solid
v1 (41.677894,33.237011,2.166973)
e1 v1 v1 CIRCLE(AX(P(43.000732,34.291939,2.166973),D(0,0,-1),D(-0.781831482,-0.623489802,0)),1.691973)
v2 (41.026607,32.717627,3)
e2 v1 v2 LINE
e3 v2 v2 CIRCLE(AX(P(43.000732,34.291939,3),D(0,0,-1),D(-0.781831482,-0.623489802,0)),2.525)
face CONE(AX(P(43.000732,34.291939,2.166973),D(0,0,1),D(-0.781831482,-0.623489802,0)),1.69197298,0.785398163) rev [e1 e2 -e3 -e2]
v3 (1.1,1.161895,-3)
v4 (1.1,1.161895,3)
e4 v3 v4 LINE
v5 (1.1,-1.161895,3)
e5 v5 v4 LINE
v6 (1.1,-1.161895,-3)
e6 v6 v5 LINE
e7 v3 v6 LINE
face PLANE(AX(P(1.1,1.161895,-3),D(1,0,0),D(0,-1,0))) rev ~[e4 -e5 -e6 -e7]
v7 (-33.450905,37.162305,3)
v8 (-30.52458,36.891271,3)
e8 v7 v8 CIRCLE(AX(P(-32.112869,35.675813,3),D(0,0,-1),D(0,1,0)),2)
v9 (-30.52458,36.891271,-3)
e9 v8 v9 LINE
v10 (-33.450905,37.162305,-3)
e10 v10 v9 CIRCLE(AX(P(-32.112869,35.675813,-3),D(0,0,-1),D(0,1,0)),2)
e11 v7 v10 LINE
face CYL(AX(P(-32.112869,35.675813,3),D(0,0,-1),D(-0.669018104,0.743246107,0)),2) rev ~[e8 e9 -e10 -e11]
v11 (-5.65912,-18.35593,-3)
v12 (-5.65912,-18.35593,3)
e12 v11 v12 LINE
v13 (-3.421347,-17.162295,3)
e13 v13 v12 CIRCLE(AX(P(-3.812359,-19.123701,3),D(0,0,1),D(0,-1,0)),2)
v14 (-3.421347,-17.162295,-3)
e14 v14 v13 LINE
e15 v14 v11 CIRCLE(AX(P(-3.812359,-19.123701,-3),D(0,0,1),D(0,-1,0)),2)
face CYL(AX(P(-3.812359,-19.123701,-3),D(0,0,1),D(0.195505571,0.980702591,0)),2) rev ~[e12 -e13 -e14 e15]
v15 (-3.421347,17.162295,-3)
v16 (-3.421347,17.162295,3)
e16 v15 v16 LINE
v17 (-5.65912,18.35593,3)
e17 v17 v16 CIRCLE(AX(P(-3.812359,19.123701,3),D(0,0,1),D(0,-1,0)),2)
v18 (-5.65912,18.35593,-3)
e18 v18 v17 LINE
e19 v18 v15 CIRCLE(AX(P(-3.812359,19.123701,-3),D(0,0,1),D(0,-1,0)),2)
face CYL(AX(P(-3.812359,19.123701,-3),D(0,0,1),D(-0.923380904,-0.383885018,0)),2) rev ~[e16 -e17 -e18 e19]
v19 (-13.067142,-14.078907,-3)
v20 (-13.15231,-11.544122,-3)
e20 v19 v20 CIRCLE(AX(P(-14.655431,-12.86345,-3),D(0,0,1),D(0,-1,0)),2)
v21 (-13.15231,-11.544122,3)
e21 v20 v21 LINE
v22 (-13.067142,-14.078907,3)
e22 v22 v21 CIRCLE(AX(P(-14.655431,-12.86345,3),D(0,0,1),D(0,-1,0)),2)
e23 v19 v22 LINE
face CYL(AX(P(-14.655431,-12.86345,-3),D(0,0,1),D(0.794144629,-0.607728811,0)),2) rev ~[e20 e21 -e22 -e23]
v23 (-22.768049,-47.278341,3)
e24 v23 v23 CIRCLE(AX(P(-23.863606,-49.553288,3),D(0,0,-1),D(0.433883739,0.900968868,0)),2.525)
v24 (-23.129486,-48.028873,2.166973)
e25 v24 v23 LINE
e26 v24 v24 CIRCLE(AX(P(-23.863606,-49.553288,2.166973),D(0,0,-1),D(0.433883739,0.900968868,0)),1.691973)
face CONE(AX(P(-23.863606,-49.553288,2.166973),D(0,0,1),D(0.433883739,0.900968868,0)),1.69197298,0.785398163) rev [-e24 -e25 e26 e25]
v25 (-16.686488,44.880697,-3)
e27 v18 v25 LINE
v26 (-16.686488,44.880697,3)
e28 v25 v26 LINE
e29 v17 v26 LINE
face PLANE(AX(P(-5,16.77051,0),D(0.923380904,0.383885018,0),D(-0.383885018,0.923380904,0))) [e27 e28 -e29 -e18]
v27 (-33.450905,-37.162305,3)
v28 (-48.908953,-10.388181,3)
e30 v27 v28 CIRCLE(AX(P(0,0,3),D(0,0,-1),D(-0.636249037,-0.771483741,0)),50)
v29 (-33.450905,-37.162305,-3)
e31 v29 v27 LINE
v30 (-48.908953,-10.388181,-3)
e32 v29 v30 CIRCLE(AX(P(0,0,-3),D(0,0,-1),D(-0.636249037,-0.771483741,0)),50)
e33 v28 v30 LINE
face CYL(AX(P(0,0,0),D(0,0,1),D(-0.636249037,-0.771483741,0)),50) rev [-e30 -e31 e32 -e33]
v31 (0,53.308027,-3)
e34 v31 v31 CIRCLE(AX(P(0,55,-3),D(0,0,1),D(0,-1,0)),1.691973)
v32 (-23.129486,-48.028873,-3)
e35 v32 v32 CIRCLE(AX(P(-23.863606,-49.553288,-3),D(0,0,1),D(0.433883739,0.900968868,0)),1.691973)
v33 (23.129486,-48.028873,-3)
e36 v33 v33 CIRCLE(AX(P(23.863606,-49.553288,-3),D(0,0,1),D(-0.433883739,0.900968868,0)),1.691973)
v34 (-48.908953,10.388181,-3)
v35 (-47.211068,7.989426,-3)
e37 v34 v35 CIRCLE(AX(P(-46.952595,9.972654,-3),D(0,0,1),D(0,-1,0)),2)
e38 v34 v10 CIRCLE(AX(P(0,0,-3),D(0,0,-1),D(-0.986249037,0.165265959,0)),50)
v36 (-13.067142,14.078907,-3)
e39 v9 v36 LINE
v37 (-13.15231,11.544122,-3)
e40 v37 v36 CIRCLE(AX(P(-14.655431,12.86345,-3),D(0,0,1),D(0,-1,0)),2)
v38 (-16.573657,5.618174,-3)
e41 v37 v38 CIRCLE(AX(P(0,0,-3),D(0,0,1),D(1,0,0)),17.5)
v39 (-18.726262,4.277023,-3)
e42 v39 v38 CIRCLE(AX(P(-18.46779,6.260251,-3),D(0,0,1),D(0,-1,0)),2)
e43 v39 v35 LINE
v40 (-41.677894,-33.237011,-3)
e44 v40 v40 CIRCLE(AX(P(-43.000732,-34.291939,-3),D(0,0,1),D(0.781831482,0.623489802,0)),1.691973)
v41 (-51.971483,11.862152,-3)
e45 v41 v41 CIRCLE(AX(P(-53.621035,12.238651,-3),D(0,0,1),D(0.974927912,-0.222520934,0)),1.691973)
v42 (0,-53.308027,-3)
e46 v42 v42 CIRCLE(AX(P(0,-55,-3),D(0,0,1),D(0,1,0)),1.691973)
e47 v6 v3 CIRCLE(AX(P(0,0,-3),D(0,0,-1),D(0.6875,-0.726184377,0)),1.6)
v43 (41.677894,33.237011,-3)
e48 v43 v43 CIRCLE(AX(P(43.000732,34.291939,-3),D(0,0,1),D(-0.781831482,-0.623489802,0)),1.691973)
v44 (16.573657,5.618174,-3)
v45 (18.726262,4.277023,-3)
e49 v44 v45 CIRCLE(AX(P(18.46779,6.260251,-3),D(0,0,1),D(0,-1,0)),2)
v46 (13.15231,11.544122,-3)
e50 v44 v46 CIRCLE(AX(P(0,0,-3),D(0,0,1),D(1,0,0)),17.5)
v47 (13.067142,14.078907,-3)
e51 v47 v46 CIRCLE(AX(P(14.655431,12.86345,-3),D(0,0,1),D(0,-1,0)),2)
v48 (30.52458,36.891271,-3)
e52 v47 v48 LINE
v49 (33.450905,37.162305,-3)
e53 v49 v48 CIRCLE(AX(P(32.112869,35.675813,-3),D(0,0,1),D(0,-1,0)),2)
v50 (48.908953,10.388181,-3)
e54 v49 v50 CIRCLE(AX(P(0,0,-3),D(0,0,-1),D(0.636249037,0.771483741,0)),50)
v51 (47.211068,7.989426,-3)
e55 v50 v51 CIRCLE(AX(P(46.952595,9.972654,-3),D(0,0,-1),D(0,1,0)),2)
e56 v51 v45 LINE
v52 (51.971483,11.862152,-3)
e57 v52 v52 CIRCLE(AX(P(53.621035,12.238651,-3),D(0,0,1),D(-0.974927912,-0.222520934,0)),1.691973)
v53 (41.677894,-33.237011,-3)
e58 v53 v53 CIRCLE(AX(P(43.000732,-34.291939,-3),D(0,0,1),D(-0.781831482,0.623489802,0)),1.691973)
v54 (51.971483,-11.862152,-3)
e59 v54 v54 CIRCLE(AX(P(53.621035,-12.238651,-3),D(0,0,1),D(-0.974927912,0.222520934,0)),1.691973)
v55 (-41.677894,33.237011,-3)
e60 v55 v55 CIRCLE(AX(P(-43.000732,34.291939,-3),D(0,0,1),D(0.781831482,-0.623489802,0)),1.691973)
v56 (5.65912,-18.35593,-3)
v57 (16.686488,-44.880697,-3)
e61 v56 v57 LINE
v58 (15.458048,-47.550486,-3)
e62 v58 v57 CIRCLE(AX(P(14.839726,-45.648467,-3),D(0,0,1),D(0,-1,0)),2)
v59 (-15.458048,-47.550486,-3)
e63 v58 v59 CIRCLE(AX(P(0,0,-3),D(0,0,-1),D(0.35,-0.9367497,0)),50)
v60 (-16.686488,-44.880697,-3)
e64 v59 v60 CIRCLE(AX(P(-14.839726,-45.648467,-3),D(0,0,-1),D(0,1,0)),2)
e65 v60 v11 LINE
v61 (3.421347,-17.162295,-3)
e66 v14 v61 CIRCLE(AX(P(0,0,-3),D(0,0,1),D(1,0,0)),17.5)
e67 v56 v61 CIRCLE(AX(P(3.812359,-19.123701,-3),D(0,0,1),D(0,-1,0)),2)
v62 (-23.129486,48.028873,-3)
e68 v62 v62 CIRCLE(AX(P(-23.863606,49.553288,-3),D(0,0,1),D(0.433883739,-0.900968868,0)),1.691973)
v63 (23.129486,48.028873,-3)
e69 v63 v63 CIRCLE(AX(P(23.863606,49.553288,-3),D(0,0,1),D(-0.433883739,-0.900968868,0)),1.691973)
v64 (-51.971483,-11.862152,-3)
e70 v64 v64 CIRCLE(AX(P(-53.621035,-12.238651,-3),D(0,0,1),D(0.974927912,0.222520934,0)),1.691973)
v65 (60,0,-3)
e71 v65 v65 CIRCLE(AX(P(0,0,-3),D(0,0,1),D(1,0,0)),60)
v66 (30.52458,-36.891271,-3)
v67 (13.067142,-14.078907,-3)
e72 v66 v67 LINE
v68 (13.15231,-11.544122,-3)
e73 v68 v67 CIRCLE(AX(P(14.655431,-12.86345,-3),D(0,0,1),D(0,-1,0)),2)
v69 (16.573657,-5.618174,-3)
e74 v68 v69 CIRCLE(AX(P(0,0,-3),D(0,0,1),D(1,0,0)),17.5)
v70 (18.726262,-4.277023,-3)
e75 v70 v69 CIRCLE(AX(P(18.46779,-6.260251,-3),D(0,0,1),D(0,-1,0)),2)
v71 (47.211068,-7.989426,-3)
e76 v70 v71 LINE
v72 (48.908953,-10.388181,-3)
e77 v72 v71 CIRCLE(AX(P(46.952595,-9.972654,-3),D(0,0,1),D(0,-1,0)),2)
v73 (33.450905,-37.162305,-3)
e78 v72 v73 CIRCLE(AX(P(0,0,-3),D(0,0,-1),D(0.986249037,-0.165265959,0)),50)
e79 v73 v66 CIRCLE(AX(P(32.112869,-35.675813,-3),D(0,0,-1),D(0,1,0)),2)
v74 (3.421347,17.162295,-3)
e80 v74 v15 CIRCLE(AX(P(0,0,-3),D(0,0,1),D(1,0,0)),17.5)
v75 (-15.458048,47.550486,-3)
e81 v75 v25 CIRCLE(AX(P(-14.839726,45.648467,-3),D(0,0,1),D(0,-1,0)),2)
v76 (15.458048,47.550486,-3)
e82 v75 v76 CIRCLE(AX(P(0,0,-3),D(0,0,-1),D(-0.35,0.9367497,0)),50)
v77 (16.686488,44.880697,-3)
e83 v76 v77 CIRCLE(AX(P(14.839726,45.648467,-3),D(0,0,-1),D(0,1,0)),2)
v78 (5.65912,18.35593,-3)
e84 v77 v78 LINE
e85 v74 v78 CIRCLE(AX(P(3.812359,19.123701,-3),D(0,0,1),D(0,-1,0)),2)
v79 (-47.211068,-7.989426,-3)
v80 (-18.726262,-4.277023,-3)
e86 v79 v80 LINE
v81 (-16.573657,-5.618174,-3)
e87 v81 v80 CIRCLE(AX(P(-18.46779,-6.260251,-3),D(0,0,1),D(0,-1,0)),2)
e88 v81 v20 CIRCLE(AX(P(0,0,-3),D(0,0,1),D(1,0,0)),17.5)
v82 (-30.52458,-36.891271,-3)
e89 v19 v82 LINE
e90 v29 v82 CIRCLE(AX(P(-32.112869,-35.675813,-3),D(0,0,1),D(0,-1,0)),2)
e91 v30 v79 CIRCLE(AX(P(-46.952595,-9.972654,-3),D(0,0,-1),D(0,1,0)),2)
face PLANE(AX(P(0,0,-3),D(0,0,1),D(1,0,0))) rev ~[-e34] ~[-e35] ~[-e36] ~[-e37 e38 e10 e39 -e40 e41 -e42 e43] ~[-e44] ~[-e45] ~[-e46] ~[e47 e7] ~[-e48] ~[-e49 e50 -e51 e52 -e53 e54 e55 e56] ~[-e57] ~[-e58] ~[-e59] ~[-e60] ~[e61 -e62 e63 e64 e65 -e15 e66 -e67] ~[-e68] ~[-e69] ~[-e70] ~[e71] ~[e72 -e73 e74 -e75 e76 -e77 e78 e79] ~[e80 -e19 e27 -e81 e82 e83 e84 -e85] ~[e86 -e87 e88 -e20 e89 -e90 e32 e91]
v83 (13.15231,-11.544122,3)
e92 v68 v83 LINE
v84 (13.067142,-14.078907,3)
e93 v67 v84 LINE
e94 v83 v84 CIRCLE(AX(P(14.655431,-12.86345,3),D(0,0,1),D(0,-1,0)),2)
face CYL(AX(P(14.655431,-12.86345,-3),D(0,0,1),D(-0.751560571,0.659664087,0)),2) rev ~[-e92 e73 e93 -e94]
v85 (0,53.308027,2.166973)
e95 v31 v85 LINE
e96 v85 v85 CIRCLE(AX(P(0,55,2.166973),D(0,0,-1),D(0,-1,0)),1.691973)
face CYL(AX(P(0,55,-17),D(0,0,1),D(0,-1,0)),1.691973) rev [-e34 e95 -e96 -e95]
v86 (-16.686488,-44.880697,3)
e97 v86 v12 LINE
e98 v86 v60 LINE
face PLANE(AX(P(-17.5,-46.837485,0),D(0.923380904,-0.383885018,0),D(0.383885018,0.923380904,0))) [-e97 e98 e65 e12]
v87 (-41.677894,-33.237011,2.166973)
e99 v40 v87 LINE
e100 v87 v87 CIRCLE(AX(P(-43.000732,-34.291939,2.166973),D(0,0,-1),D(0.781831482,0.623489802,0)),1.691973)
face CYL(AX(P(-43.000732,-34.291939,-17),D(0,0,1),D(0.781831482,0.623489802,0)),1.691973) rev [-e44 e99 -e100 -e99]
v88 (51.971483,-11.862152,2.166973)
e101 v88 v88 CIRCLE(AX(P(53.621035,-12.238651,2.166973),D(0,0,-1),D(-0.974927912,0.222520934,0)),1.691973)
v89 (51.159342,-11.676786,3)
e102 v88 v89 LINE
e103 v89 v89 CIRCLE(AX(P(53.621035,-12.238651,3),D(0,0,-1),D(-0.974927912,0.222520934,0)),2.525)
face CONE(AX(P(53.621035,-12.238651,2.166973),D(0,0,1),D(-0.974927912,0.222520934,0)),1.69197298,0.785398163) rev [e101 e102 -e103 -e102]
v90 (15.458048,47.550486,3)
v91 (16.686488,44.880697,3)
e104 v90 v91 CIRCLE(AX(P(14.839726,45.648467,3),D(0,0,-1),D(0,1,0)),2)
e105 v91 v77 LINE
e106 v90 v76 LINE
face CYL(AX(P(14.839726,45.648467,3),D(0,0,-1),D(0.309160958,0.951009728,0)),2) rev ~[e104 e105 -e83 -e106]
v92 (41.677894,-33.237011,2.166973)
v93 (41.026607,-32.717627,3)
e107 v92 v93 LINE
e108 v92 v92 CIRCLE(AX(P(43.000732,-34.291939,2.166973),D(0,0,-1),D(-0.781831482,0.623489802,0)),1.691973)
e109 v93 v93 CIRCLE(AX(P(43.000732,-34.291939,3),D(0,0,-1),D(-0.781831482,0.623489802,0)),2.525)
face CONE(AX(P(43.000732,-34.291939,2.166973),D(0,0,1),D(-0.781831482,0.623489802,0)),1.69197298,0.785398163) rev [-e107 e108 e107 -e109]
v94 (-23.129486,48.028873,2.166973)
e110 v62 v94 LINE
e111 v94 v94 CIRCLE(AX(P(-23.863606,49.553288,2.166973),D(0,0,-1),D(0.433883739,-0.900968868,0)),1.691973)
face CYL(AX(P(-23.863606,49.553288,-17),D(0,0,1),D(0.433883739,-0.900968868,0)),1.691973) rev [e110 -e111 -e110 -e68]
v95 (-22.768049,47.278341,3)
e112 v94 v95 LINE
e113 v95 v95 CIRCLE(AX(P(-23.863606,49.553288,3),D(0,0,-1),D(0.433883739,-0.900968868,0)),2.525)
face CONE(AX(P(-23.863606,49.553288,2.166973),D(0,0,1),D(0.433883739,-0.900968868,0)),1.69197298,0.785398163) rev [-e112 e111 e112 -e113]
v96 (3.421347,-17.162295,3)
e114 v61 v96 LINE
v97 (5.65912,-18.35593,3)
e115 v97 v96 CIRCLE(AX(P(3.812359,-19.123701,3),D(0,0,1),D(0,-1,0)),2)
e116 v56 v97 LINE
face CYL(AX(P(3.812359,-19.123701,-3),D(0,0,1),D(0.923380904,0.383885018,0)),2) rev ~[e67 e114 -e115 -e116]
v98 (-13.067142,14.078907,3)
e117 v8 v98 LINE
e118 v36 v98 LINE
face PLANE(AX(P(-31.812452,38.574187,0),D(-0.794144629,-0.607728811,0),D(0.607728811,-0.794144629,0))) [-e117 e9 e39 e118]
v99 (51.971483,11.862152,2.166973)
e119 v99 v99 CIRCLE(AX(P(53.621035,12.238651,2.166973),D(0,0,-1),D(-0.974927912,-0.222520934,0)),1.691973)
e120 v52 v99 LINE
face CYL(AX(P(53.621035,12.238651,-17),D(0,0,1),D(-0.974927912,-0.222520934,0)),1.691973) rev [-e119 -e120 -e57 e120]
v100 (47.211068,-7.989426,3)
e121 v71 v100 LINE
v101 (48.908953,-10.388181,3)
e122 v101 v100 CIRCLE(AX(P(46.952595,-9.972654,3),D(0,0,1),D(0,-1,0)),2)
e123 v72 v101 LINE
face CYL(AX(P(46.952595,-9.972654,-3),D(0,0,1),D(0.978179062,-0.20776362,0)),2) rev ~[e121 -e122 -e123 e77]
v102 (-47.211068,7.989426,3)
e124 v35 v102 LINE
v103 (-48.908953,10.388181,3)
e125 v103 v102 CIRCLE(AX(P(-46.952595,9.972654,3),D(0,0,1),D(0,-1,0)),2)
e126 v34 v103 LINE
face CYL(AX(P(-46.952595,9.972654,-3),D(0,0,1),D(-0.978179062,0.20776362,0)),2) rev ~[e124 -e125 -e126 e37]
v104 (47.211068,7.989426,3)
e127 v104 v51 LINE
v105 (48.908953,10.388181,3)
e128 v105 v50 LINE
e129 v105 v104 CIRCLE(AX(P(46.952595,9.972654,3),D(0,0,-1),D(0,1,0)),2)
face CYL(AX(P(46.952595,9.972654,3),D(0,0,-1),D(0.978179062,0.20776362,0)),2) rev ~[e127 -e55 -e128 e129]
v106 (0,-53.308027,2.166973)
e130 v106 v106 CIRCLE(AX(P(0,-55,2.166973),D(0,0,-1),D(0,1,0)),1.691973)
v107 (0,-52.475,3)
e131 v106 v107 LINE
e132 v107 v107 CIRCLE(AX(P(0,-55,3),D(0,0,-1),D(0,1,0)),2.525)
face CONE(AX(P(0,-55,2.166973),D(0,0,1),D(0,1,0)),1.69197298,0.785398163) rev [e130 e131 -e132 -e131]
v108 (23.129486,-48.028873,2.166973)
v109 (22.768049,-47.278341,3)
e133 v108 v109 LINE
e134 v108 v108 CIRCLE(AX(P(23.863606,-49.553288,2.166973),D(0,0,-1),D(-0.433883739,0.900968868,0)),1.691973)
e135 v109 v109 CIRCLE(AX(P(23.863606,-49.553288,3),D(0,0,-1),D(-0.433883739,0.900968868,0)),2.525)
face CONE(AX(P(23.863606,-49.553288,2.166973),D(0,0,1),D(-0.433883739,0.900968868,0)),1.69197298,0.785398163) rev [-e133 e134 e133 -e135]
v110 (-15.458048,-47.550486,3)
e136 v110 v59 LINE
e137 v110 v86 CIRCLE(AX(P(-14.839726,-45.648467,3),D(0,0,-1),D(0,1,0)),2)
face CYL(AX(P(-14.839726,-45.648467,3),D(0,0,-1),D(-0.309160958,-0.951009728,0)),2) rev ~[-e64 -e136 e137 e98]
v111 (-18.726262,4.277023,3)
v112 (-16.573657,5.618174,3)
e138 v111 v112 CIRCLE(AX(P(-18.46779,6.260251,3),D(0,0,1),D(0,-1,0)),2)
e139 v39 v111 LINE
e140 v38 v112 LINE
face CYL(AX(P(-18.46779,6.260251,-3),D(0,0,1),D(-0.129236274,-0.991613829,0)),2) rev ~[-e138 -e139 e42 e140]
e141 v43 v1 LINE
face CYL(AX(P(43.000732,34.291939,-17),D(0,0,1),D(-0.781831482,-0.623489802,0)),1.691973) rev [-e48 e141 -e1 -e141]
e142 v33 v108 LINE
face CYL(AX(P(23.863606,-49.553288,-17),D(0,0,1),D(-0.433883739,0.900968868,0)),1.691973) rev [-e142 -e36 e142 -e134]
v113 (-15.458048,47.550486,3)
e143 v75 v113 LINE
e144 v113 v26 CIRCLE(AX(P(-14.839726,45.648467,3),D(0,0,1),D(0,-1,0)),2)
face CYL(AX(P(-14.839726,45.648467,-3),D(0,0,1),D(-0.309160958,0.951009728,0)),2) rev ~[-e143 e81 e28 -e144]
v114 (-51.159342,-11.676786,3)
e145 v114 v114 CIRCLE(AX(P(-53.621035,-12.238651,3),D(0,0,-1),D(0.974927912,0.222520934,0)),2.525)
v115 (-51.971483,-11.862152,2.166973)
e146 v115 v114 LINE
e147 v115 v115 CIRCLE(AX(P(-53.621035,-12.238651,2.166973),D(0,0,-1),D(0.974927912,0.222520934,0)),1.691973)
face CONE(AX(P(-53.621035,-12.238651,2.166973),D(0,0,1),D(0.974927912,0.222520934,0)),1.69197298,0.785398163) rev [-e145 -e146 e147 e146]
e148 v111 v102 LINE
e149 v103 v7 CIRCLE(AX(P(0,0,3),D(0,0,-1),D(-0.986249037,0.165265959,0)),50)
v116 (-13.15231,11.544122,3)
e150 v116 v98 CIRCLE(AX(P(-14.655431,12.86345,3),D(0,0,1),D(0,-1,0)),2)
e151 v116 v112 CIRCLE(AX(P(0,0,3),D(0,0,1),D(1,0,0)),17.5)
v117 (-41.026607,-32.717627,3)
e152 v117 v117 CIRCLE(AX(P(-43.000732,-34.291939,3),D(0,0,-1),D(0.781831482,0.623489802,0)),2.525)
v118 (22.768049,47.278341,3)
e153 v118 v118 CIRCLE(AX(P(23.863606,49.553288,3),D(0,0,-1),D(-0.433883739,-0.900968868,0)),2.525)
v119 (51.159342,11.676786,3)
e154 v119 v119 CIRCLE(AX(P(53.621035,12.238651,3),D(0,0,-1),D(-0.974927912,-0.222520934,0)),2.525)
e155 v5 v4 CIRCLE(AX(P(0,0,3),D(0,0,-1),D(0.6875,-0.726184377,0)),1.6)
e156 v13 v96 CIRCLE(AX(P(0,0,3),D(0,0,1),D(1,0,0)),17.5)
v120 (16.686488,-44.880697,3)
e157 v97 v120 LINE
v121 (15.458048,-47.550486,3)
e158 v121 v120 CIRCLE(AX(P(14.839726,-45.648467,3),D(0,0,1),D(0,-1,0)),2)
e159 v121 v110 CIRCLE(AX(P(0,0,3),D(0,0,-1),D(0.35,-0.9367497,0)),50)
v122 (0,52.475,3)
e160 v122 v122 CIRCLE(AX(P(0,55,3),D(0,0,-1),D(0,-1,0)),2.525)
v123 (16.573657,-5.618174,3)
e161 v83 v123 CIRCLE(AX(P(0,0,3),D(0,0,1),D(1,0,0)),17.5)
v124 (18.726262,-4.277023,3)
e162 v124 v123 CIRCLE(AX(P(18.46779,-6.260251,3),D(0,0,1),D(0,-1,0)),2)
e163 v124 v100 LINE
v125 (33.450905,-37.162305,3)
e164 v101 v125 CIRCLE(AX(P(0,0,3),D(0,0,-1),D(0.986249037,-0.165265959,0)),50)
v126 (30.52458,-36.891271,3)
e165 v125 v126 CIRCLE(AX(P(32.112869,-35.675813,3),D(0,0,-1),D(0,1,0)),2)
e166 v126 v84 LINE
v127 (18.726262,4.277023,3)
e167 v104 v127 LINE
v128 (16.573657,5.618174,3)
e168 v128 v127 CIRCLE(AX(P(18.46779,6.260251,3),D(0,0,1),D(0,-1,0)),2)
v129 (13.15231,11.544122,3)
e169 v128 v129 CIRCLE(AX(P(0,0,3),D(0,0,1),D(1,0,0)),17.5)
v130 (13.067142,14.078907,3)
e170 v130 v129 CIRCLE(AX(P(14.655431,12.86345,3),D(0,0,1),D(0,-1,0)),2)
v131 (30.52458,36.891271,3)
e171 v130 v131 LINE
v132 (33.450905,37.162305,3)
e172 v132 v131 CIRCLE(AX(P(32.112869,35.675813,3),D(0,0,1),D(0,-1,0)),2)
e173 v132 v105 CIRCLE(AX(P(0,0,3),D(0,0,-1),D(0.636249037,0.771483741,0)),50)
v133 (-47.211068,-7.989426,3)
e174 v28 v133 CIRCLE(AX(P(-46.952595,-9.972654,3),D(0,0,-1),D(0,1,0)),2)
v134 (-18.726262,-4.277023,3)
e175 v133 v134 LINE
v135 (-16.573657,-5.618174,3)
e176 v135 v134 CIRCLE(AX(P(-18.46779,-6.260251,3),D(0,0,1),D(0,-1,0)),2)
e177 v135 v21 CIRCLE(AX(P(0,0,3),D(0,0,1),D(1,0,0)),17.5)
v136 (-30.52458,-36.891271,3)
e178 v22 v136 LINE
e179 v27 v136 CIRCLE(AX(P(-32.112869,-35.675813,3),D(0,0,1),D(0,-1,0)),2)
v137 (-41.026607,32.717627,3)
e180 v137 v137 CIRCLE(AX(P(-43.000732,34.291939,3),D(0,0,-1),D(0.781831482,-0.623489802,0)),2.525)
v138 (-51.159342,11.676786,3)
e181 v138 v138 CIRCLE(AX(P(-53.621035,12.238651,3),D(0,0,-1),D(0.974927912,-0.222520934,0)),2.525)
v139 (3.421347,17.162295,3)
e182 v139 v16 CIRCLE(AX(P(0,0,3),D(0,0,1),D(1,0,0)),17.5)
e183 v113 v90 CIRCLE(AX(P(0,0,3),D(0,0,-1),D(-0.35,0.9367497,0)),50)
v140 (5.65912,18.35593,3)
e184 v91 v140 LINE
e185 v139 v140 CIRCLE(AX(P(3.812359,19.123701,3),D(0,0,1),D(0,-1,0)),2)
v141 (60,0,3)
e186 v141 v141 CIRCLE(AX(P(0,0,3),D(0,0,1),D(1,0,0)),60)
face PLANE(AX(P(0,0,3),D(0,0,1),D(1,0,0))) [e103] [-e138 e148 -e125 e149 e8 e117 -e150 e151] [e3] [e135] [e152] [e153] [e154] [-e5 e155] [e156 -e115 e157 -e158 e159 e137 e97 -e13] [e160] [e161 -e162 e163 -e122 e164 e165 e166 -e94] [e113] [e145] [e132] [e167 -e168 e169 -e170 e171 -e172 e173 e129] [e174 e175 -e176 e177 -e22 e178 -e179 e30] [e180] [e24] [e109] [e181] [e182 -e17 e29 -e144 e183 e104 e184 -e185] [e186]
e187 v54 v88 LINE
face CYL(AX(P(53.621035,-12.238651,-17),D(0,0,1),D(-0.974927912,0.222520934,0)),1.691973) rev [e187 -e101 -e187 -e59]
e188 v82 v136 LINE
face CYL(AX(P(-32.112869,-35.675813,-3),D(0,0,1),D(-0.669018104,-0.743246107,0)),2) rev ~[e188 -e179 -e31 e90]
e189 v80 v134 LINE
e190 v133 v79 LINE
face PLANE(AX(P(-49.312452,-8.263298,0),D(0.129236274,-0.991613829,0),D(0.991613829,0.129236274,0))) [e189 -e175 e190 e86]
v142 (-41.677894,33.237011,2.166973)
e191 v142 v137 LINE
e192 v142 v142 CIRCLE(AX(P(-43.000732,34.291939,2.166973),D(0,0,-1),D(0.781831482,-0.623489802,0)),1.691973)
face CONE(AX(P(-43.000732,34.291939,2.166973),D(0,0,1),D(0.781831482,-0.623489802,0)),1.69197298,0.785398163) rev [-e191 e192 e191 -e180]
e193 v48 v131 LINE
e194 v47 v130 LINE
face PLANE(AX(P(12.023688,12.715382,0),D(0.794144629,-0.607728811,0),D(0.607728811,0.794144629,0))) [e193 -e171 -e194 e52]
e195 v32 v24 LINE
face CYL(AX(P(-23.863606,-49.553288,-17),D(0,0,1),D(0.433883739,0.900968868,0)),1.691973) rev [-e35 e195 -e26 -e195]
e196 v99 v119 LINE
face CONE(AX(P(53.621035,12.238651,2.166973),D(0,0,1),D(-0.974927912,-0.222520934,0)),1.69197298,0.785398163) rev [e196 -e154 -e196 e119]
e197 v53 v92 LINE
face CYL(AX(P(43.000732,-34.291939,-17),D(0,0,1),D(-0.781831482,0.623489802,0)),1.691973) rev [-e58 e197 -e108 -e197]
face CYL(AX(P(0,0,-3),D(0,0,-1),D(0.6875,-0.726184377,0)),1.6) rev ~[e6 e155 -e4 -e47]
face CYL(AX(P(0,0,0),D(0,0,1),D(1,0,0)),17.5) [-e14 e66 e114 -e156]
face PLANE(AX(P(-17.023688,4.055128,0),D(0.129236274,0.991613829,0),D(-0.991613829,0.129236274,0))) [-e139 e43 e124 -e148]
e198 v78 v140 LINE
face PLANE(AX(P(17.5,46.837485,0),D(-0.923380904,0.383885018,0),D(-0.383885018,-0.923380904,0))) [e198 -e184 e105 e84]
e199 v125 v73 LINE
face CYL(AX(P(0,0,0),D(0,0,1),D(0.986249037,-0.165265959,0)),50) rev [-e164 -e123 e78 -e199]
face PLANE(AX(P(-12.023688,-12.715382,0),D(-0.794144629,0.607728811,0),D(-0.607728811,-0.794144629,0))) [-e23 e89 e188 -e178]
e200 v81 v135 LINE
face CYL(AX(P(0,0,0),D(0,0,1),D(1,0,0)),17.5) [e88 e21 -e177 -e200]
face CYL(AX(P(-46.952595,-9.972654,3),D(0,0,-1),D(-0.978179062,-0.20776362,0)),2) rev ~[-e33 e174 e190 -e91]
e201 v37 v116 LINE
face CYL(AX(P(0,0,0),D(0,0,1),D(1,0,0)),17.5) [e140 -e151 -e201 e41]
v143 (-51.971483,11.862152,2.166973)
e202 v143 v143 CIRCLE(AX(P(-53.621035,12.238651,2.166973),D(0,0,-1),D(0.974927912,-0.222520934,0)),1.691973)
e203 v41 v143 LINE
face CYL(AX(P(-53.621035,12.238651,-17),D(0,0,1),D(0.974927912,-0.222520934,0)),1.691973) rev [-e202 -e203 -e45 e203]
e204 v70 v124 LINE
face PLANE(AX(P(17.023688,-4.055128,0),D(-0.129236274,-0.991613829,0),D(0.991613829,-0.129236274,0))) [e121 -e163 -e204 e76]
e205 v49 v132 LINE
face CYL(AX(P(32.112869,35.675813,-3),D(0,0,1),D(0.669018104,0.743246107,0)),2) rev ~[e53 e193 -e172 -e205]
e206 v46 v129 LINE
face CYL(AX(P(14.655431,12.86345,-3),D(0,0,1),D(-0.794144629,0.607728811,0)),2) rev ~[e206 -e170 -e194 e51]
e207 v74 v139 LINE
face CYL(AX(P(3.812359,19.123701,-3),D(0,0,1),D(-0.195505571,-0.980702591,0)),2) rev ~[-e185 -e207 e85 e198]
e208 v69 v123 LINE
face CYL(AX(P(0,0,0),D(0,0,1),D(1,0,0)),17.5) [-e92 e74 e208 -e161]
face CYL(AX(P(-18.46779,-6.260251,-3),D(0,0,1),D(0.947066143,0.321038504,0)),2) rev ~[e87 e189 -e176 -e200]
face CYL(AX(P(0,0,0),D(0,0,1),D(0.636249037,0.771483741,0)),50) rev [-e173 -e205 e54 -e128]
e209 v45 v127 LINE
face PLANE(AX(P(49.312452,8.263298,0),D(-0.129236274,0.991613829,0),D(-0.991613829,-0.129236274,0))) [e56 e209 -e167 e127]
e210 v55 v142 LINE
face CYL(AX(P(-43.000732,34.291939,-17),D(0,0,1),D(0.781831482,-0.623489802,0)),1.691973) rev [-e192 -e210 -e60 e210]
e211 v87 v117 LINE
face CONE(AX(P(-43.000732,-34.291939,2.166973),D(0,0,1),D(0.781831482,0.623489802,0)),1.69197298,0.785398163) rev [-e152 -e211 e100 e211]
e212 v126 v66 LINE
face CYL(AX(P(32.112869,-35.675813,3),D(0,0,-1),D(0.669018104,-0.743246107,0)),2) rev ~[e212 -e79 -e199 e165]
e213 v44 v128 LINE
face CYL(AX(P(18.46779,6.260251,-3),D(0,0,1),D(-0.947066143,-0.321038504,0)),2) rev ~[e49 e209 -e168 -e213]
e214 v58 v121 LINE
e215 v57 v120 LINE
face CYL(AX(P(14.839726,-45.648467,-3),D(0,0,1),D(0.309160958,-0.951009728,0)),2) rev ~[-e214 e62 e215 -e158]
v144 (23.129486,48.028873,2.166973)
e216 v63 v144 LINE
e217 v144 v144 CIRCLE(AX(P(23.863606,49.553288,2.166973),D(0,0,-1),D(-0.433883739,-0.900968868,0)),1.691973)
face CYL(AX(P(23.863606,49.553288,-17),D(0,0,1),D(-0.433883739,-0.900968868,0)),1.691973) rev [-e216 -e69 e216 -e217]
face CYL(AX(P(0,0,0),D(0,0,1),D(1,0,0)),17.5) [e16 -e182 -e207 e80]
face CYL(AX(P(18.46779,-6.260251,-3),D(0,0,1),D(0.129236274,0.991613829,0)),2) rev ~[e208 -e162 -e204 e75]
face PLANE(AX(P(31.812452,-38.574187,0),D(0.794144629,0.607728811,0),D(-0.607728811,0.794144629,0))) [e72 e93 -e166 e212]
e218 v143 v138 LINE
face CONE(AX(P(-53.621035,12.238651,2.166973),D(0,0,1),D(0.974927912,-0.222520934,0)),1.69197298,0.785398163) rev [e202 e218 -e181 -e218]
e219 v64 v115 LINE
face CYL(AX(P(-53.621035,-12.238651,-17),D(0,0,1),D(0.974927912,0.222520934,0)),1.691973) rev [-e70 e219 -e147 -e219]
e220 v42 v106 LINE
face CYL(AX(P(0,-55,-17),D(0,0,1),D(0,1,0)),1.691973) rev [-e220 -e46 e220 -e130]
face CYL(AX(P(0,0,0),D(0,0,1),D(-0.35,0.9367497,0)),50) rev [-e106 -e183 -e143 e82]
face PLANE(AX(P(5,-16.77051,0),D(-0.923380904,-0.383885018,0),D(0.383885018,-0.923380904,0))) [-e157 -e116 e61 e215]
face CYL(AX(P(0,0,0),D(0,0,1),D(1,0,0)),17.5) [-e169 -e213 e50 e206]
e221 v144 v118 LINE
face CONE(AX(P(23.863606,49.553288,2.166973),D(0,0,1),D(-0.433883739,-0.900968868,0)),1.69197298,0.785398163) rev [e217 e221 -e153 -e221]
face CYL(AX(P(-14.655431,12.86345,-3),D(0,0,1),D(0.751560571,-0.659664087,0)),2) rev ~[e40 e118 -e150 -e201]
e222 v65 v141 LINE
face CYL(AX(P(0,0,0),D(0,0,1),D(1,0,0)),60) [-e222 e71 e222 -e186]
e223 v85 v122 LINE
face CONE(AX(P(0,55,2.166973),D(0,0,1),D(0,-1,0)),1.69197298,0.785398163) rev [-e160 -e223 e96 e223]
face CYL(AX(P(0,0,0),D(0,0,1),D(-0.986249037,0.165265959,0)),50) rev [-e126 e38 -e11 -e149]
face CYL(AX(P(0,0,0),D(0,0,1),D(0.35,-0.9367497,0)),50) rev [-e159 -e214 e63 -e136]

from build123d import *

# Parameters (mm, degrees)
SKETCH1_R               = 60
SKETCH1_R_2             = 17.5
BOSS_EXTRUDE2_DEPTH     = 3
FILLET1_R               = 2
CUT_EXTRUDE1_DEPTH      = 86.064681273
CUT_EXTRUDE1_DEPTH_BACK = 86.064681273
CIRPATTERN4_COUNT       = 14


with BuildPart() as part:
    # Sketch1 → Boss-Extrude2 (new, symmetric)
    with BuildSketch(Plane.XY):
        Circle(SKETCH1_R)
        with BuildLine():
            ThreePointArc((-12.023687548, 12.715381935), (-8.75, 15.155444566), (-5, 16.770509831))
            Line((-5, 16.770509831), (-17.5, 46.837484988))
            ThreePointArc((-17.5, 46.837484988), (0, 50), (17.5, 46.837484988))
            Line((17.5, 46.837484988), (5, 16.770509831))
            ThreePointArc((5, 16.770509831), (8.75, 15.155444566), (12.023687548, 12.715381935))
            Line((12.023687548, 12.715381935), (31.812451849, 38.57418706))
            ThreePointArc((31.812451849, 38.57418706), (43.301270189, 25), (49.312451849, 8.263297928))
            Line((49.312451849, 8.263297928), (17.023687548, 4.055127897))
            ThreePointArc((17.023687548, 4.055127897), (17.380513975, 2.041502866), (17.5, 0))
            ThreePointArc((17.5, 0), (17.380513975, -2.041502866), (17.023687548, -4.055127897))
            Line((17.023687548, -4.055127897), (49.312451849, -8.263297928))
            ThreePointArc((49.312451849, -8.263297928), (43.301270189, -25), (31.812451849, -38.57418706))
            Line((31.812451849, -38.57418706), (12.023687548, -12.715381935))
            ThreePointArc((12.023687548, -12.715381935), (8.75, -15.155444566), (5, -16.770509831))
            Line((5, -16.770509831), (17.5, -46.837484988))
            ThreePointArc((17.5, -46.837484988), (0, -50), (-17.5, -46.837484988))
            Line((-17.5, -46.837484988), (-5, -16.770509831))
            ThreePointArc((-5, -16.770509831), (-8.75, -15.155444566), (-12.023687548, -12.715381935))
            Line((-12.023687548, -12.715381935), (-31.812451849, -38.57418706))
            ThreePointArc((-31.812451849, -38.57418706), (-43.301270189, -25), (-49.312451849, -8.263297928))
            Line((-49.312451849, -8.263297928), (-17.023687548, -4.055127897))
            ThreePointArc((-17.023687548, -4.055127897), (-17.5, 0), (-17.023687548, 4.055127897))
            Line((-17.023687548, 4.055127897), (-49.312451849, 8.263297928))
            ThreePointArc((-49.312451849, 8.263297928), (-43.301270189, 25), (-31.812451849, 38.57418706))
            Line((-31.812451849, 38.57418706), (-12.023687548, 12.715381935))
        make_face(mode=Mode.SUBTRACT)
        Circle(SKETCH1_R_2)
    extrude(amount=BOSS_EXTRUDE2_DEPTH, both=True)

    # Fillet1
    fillet1_edges = [part.edges().sort_by_distance(p)[0] for p in [
        (12.023687548, -12.715381935, 0),
        (31.812451849, -38.57418706, 0),
        (49.312451849, -8.263297928, 0),
        (17.023687548, -4.055127897, 0),
        (-17.5, -46.837484988, 0),
        (17.5, -46.837484988, 0),
        (5, -16.770509831, 0),
        (-5, -16.770509831, 0),
        (-49.312451849, -8.263297928, 0),
        (-31.812451849, -38.57418706, 0),
        (-12.023687548, -12.715381935, 0),
        (-17.023687548, -4.055127897, 0),
        (-31.812451849, 38.57418706, 0),
        (-49.312451849, 8.263297928, 0),
        (-17.023687548, 4.055127897, 0),
        (-12.023687548, 12.715381935, 0),
        (17.5, 46.837484988, 0),
        (-17.5, 46.837484988, 0),
        (-5, 16.770509831, 0),
        (5, 16.770509831, 0),
        (49.312451849, 8.263297928, 0),
        (31.812451849, 38.57418706, 0),
        (12.023687548, 12.715381935, 0),
        (17.023687548, 4.055127897, 0),
    ]]
    fillet(fillet1_edges, radius=FILLET1_R)

    # Sketch4 → Cut-Extrude1 (cut, two sides)
    with BuildSketch(Plane(origin=(0, 0, -3), x_dir=(-1, 0, 0), z_dir=(0, 0, -1))) as cut_extrude1_sk:
        with BuildLine():
            Line((-1.1, 1.161895004), (-1.1, -1.161895004))
            ThreePointArc((-1.1, -1.161895004), (1.6, 0), (-1.1, 1.161895004))
        make_face()
    extrude(amount=CUT_EXTRUDE1_DEPTH, mode=Mode.SUBTRACT)
    extrude(cut_extrude1_sk.sketch, amount=-CUT_EXTRUDE1_DEPTH_BACK, mode=Mode.SUBTRACT)

    # Sketch6 → Ø5.0mm Dowel Hole1 (revolve, cut)
    with BuildSketch(Plane(origin=(0, 55, 3), x_dir=(0, -1, 0), z_dir=(1, 0, 0))):
        Polygon((0, 0), (0, 21.016639932), (1.69197298, 20), (1.69197298, 0.83302702), (2.525, 0), align=None)
    f_5_0mm_dowel_hole1 = revolve(axis=Axis((0, 55, 9.35), (0, 0, -1)), mode=Mode.SUBTRACT)

    # CirPattern4: Ø5.0mm Dowel Hole1 ×14 about axis
    cirpattern4_axis = Axis((0, 0, 0), (0, 0, 1))
    for i in range(1, CIRPATTERN4_COUNT):
        add(f_5_0mm_dowel_hole1.rotate(cirpattern4_axis, i * 360 / CIRPATTERN4_COUNT), mode=Mode.SUBTRACT)


solid = part.part
